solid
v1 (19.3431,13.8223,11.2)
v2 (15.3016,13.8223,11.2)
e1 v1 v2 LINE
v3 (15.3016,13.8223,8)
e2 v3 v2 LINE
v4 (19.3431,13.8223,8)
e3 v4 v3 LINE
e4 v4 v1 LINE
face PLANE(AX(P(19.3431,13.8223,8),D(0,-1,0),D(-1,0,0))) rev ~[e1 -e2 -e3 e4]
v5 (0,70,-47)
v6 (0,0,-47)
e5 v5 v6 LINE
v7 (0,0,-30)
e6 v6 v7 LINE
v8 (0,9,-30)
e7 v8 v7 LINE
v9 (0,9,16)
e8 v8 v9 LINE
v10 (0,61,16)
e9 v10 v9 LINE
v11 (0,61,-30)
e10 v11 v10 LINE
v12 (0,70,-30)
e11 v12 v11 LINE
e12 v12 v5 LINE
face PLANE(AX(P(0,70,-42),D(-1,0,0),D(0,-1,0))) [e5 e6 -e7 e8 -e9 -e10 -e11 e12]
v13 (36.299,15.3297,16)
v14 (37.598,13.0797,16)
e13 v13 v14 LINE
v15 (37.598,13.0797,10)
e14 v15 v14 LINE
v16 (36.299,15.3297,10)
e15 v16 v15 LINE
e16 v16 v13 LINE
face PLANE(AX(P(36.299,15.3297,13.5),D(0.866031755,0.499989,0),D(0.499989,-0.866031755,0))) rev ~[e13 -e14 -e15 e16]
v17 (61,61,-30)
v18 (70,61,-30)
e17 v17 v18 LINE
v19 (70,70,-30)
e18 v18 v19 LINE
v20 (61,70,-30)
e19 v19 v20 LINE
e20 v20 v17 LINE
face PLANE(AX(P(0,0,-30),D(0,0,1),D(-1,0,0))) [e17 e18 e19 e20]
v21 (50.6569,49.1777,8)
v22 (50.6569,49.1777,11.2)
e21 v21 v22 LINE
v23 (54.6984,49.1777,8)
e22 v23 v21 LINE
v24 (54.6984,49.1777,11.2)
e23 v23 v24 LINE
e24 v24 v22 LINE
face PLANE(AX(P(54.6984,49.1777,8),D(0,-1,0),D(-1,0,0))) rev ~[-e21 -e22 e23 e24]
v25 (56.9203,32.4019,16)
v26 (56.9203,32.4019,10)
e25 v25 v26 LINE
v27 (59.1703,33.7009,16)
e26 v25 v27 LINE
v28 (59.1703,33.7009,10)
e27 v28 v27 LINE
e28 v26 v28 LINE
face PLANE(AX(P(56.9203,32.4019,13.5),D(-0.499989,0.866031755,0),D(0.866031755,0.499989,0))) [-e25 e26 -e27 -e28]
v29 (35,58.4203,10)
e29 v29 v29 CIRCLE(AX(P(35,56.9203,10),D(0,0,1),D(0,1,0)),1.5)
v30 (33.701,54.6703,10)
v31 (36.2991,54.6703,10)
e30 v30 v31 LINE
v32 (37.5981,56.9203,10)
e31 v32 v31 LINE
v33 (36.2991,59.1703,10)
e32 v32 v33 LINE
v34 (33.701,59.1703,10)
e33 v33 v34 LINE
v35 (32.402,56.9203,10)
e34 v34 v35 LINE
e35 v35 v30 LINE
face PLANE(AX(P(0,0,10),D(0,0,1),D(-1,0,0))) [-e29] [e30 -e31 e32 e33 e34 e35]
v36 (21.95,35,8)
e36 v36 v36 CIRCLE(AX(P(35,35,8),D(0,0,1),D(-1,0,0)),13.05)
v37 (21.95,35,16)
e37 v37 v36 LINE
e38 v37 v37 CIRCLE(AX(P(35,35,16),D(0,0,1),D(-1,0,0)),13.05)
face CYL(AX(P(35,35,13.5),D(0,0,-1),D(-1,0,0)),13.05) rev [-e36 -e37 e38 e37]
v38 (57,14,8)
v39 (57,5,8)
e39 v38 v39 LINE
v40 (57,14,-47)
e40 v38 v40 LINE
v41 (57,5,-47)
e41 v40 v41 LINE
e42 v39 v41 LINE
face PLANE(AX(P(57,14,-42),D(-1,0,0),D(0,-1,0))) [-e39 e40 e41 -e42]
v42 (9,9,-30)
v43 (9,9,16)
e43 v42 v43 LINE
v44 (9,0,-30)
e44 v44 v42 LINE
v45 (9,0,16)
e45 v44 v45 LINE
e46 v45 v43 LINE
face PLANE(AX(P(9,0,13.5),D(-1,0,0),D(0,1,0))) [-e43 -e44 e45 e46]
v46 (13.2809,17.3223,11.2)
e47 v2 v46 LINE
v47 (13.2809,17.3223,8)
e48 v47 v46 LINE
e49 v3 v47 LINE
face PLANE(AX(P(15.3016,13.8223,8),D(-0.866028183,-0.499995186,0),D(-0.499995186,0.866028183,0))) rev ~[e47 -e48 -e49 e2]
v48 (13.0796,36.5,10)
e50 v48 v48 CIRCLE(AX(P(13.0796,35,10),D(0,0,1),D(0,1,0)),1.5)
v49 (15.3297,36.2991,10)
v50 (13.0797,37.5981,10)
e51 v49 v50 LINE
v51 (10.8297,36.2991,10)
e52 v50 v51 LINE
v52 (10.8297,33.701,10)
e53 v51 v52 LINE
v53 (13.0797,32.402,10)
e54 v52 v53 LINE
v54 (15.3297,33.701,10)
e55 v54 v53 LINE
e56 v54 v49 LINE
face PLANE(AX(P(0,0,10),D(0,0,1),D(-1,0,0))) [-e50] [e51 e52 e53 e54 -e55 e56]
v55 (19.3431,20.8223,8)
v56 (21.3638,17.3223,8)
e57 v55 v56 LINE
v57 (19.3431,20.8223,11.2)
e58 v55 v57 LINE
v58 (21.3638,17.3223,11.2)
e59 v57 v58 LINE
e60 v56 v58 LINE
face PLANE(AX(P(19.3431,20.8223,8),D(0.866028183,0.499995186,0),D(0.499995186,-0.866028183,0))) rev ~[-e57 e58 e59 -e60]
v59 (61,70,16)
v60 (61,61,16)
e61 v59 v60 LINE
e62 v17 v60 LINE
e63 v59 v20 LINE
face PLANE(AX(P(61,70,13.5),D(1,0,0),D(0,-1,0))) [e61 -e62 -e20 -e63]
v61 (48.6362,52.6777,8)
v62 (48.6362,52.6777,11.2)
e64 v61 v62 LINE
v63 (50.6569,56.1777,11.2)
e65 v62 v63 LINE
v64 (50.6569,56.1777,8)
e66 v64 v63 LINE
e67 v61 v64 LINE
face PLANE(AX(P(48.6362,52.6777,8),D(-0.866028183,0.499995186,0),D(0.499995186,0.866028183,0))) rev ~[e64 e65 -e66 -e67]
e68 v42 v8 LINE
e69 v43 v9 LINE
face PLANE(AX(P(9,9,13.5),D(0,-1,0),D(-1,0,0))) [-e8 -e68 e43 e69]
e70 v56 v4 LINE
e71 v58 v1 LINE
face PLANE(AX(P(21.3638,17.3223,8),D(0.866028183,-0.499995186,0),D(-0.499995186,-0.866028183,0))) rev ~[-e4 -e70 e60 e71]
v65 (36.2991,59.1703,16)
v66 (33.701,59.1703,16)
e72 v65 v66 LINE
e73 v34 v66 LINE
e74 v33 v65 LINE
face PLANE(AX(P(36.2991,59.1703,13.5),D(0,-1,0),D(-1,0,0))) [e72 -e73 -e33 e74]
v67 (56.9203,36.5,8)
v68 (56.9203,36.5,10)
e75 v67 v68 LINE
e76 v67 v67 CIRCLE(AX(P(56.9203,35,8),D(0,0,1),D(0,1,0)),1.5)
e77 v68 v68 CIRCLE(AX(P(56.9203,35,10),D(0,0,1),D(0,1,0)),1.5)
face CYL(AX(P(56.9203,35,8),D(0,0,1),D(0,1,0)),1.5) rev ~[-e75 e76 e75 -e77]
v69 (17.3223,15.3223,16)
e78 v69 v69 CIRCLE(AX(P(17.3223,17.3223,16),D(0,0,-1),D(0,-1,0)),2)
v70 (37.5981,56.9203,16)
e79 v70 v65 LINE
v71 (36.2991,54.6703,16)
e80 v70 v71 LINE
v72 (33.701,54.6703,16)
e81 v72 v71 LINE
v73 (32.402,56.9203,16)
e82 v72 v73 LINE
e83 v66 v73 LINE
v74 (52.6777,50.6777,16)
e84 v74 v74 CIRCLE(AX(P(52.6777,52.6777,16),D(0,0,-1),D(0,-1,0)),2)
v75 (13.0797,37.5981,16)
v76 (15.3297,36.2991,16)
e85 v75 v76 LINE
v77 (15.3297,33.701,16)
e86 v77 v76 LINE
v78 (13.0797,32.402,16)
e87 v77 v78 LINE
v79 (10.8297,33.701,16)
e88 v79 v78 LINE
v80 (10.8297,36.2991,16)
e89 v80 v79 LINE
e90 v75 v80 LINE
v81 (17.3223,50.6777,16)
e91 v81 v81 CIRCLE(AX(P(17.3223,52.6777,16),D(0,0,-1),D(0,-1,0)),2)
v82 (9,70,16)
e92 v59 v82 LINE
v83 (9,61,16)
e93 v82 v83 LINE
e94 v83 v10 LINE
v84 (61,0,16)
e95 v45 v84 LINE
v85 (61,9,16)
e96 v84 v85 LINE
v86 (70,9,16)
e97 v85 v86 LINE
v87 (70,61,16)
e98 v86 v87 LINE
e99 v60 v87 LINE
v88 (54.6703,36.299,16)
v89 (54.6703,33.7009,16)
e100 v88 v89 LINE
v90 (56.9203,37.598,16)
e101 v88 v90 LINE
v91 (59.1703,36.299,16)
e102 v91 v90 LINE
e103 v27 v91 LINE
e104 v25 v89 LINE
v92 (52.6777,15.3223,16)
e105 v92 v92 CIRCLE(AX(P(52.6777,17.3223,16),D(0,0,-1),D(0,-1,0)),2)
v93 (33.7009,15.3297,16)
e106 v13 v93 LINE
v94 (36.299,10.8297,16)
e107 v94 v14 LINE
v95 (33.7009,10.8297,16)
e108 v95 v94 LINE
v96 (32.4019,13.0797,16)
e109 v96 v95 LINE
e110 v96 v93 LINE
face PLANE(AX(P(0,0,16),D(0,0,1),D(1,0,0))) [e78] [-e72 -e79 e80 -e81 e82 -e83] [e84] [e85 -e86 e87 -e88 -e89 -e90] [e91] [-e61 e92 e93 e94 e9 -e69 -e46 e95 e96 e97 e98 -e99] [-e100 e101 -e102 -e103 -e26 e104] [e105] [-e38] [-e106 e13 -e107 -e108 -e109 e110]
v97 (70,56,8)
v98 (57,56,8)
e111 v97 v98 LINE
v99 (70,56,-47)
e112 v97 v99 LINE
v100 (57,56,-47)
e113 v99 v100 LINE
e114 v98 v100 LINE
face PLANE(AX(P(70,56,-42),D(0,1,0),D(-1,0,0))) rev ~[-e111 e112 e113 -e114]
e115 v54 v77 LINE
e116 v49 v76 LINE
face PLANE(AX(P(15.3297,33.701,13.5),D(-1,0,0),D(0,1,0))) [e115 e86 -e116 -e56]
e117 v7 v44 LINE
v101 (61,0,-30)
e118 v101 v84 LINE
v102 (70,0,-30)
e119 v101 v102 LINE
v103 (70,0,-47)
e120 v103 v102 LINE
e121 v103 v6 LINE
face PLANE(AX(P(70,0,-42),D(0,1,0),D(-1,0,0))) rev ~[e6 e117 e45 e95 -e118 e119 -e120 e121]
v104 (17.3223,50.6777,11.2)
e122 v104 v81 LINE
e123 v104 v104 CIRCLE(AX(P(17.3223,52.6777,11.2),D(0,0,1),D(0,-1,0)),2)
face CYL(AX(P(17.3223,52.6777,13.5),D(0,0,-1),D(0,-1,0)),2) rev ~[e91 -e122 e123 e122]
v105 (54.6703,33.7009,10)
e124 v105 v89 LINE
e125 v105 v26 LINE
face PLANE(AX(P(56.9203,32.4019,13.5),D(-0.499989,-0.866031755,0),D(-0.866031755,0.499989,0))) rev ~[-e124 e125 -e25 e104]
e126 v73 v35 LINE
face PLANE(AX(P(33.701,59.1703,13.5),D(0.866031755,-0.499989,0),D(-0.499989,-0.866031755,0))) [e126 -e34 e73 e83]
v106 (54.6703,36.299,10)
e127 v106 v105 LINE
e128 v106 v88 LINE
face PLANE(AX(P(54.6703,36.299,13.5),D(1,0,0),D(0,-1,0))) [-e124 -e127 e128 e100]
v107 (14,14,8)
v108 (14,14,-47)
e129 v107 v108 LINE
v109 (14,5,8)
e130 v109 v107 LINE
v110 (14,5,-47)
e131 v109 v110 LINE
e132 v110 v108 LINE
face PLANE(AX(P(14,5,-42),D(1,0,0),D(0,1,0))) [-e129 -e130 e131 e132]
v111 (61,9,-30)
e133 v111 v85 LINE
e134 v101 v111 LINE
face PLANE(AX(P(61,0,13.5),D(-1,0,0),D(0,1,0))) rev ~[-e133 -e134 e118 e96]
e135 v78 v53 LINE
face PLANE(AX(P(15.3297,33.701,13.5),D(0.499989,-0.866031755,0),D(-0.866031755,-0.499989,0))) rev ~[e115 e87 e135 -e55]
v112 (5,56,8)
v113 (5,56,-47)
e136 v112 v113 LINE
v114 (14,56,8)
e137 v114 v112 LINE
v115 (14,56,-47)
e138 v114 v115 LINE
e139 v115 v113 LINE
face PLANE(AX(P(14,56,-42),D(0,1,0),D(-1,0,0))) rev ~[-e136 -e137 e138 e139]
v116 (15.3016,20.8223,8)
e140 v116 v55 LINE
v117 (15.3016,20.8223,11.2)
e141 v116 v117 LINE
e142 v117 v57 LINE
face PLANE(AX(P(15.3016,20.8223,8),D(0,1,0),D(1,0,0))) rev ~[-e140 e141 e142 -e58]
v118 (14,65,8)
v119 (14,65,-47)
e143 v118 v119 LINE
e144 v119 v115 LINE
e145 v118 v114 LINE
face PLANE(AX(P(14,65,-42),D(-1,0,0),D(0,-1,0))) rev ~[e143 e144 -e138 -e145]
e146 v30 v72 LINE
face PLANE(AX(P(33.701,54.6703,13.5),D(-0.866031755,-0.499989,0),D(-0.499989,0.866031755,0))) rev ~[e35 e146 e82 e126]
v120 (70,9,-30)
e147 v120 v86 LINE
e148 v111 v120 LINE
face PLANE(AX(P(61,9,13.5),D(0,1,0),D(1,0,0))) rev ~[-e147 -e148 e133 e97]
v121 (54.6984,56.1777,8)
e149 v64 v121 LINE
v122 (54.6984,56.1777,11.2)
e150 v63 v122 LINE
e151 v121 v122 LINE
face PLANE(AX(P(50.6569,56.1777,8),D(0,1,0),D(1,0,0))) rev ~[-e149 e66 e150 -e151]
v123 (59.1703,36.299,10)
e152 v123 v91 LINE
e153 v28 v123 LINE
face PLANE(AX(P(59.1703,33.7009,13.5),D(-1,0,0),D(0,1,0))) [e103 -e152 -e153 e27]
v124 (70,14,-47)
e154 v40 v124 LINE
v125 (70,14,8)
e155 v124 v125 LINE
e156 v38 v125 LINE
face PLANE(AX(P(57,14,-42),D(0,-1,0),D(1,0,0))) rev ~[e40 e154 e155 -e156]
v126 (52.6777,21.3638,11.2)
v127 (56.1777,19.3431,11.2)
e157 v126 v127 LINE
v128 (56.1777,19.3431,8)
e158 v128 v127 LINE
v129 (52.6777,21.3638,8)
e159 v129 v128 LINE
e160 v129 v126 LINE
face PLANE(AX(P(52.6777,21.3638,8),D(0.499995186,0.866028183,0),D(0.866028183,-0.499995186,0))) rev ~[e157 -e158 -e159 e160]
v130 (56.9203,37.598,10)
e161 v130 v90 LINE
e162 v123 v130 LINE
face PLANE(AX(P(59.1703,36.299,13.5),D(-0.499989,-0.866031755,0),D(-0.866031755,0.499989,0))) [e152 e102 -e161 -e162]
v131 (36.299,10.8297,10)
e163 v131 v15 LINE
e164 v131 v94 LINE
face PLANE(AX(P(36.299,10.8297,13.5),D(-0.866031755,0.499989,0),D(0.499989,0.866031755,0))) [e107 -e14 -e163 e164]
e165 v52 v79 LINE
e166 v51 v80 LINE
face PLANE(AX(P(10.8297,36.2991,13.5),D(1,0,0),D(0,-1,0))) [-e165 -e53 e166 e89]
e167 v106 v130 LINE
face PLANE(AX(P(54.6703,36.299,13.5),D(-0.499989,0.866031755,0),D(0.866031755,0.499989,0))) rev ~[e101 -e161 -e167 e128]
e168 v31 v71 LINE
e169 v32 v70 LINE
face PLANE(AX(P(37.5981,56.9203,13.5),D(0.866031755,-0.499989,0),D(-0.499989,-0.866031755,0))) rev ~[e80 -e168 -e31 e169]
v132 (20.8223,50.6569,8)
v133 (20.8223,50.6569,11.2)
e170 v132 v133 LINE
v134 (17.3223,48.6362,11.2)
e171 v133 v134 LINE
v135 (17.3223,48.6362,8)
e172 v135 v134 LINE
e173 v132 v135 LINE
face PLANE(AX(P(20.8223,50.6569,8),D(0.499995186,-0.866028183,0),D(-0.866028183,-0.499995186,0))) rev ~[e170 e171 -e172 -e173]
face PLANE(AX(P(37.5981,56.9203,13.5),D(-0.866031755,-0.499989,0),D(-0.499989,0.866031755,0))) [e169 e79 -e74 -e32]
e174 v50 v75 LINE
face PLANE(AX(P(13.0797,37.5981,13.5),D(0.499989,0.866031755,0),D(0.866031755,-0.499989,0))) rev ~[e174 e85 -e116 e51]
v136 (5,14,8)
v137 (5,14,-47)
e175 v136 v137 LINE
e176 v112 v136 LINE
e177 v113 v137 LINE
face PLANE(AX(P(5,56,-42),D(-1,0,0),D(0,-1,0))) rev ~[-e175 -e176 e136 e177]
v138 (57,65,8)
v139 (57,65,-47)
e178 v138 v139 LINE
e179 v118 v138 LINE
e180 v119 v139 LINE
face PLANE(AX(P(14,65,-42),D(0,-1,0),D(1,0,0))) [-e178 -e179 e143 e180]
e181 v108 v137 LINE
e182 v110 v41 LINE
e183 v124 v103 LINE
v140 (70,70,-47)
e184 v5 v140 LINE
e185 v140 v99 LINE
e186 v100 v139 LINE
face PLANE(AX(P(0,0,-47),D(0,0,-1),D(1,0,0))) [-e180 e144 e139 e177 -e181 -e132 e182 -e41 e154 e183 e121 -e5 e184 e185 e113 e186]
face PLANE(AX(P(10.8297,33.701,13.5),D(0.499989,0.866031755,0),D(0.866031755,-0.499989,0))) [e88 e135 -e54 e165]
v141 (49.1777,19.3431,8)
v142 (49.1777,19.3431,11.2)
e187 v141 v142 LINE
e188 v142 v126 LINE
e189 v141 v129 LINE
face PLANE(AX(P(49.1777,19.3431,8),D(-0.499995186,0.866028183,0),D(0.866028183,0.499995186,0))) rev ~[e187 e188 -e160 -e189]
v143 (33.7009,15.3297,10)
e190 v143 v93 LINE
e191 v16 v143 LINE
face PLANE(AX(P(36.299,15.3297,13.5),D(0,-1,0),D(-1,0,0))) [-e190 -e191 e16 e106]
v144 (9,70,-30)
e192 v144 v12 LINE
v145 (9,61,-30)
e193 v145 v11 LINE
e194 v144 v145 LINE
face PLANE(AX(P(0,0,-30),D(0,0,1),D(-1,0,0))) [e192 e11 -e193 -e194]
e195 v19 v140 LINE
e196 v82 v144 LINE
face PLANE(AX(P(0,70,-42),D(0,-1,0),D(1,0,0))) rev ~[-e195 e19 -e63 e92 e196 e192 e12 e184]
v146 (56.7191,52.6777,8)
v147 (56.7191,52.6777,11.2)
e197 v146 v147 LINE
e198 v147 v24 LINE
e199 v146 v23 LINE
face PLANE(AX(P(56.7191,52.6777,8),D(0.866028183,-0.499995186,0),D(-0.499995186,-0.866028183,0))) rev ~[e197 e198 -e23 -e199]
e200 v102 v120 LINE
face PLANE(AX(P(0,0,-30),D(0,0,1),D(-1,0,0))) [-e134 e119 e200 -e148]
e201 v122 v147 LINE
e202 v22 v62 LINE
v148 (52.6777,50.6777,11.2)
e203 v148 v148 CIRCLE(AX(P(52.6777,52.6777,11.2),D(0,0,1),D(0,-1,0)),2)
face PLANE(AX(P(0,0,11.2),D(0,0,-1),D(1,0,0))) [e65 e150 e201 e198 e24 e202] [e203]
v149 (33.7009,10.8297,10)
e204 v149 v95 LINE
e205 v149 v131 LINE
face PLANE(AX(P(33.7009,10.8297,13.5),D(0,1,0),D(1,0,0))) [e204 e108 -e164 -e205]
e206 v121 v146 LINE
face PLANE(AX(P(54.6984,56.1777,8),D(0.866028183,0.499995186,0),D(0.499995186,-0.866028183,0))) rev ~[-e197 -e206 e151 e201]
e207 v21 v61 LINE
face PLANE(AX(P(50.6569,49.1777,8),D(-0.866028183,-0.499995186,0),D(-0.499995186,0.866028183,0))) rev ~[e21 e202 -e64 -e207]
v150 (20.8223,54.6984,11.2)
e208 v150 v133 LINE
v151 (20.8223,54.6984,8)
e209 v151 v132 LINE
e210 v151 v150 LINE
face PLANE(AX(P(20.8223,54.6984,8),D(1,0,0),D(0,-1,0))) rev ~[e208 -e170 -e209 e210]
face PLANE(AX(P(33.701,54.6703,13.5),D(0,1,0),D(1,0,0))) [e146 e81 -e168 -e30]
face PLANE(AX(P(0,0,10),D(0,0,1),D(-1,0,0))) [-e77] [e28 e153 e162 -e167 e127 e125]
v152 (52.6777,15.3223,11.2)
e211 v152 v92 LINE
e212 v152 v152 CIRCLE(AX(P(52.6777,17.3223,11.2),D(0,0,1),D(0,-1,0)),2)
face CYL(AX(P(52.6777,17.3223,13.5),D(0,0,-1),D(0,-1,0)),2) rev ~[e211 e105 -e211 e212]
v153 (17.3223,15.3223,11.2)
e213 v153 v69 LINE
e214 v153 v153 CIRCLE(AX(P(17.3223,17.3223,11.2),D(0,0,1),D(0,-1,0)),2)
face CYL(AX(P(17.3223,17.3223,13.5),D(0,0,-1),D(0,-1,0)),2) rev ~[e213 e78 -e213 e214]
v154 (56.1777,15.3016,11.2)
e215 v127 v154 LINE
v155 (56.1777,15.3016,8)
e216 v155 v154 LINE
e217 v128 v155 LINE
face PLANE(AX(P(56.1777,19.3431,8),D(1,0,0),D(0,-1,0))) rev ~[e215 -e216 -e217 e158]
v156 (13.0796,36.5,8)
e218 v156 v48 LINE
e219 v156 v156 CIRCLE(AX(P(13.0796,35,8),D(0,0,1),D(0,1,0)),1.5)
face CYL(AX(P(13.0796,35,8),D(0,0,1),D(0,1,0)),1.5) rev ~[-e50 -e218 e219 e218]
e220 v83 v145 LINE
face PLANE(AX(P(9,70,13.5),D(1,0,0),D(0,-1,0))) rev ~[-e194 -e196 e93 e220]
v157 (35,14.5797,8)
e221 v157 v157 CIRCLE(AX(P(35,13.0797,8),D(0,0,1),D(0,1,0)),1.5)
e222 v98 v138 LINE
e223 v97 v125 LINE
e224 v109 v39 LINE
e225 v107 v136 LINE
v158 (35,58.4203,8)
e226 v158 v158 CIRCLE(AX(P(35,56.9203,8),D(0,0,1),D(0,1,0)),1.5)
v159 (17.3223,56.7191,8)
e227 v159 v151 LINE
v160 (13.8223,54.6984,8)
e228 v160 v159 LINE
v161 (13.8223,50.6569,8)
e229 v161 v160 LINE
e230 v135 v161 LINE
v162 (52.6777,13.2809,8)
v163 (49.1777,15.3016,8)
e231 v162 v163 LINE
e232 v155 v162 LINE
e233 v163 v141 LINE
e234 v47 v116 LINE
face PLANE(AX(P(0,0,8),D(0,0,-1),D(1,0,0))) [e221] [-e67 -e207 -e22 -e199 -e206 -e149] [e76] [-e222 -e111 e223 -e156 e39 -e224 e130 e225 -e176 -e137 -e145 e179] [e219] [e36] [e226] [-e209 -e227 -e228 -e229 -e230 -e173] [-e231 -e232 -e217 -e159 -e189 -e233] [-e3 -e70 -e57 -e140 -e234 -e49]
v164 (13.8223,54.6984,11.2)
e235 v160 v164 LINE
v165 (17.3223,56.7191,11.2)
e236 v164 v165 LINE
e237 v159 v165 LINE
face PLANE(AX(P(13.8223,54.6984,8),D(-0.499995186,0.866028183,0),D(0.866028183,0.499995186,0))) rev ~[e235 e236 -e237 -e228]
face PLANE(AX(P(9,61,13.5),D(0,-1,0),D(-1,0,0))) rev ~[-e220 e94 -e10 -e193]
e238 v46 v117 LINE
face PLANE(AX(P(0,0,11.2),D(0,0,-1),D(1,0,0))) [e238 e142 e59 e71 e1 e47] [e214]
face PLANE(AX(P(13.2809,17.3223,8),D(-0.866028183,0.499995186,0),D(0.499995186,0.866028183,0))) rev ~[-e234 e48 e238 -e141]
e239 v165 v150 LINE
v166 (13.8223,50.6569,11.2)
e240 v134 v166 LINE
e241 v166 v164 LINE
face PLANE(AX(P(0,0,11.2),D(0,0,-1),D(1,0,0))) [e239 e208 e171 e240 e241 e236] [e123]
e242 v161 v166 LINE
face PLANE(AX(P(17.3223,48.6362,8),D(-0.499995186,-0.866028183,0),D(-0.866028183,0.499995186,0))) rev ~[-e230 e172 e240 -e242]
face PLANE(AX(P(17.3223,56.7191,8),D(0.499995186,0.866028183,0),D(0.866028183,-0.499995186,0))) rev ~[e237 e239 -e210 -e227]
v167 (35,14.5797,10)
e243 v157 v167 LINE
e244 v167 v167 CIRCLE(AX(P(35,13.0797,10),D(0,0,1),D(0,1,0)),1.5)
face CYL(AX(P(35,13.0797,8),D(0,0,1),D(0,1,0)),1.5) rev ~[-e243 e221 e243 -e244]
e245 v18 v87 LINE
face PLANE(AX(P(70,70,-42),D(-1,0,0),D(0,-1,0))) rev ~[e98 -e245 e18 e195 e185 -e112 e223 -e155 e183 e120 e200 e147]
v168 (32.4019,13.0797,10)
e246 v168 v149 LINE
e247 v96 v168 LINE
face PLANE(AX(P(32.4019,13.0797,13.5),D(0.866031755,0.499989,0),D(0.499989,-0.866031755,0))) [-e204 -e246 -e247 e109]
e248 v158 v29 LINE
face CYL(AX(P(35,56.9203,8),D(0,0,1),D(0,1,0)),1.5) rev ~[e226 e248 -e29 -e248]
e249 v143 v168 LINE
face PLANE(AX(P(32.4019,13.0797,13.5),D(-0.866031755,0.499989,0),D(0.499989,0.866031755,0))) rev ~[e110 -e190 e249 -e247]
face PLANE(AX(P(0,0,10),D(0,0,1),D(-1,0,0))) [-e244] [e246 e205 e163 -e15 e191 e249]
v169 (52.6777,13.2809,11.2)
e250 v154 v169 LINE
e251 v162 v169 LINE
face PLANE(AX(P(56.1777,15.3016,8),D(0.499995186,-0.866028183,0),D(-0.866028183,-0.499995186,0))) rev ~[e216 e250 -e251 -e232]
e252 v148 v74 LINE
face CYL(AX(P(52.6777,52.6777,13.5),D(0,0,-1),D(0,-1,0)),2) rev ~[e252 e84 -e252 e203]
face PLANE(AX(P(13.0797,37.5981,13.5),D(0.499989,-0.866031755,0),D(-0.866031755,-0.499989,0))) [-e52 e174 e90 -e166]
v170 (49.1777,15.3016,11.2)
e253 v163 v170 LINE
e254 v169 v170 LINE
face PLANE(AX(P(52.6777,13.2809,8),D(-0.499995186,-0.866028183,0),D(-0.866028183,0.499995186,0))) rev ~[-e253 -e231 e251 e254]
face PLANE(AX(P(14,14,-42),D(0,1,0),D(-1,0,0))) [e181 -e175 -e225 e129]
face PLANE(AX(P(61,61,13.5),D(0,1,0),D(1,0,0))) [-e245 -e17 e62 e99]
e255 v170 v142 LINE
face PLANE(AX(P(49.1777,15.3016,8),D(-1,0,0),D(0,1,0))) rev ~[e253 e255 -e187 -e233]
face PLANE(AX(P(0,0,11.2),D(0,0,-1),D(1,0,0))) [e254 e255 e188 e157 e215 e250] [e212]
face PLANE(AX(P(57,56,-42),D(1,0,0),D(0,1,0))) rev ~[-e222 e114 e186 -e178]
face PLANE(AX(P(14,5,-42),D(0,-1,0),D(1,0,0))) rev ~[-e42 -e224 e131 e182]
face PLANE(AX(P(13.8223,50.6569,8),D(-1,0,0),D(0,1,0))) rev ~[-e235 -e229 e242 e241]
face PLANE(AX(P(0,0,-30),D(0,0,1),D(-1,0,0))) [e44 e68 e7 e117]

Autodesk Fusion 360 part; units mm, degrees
sketch "草图1" plane through (0, 0, 0) normal (0, 0, 1) x (1, 0, 0)
  line L0 (0, 0) -> (70, 0)
  line L1 (70, 0) -> (70, 70)
  line L2 (70, 70) -> (0, 70)
  line L3 (0, 70) -> (0, 0)
  dimension "d1" = 70
  dimension "d2" = 70
extrude "拉伸1" add sketch "草图1" along normal blind 20
sketch "草图2" plane through (0, 0, 20) normal (0, 0, 1) x (-1, 0, 0)
  line L0 (0, -70) -> (0, 0)
  line L1 (0, 0) -> (-70, 0)
  line L2 (-70, 0) -> (-70, -70)
  line L3 (-70, -70) -> (0, -70)
  line L4 (-13.4, -56.6) -> (-56.6, -56.6)
  line L5 (-56.6, -56.6) -> (-56.6, -13.4)
  line L6 (-56.6, -13.4) -> (-13.4, -13.4)
  line L7 (-13.4, -13.4) -> (-13.4, -56.6)
  dimension "d5" = 43.2
  dimension "d6" = 43.2
  dimension "d7" = 13.4
  dimension "d8" = 13.4
extrude "拉伸2" cut sketch "草图2" against normal blind 6.5 contours L4 L5 L6 L7
sketch "草图3" plane through (0, 0, 13.5) normal (0, 0, 1) x (-1, 0, 0)
  line L0 (-13.4, -13.4) -> (-56.6, -13.4)
  line L1 (-56.6, -13.4) -> (-56.6, -56.6)
  line L2 (-56.6, -56.6) -> (-13.4, -56.6)
  line L3 (-13.4, -56.6) -> (-13.4, -13.4)
  circle A0 centre (-35, -35) radius 25
  line L4 (-56.6, -13.4) -> (-35, -35)
  circle A1 centre (-52.6777, -17.3223) radius 0.4987
  point P0 (-52.6777, -52.6777)
  point P1 (-17.3223, -52.6777)
  point P2 (-17.3223, -17.3223)
  dimension "d11" = 50
  dimension "d12" = 21.6
  dimension "d13" = 21.6
  dimension "d15" = 360
hole "孔1" at (17.3223, 17.3223, 13.5) at (52.6777, 17.3223, 13.5) at (52.6777, 52.6777, 13.5) at (17.3223, 52.6777, 13.5) direction (0, 0, -1) diameter 4 end through all
sketch "草图4" plane through (0, 0, 13.5) normal (0, 0, 1) x (-1, 0, 0)
  circle A0 centre (-52.6777, -52.6777) radius 2
  circle A1 centre (-17.3223, -17.3223) radius 2
  circle A2 centre (-52.6777, -17.3223) radius 2
  circle A3 centre (-17.3223, -52.6777) radius 2
  line L0 (-13.4, -13.4) -> (-56.6, -13.4)
  line L1 (-56.6, -13.4) -> (-56.6, -56.6)
  line L2 (-56.6, -56.6) -> (-13.4, -56.6)
  line L3 (-13.4, -56.6) -> (-13.4, -13.4)
  circle A4 centre (-35, -35) radius 13.05
  dimension "d19" = 26.1
  dimension "d20" = 21.6
  dimension "d21" = 21.6
extrude "拉伸3" cut sketch "草图4" against normal blind 3.8 contours A4
sketch "草图5" plane through (0, 0, 9.7) normal (0, 0, 1) x (-1, 0, 0)
  circle A0 centre (-35, -35) radius 13.05
  circle A1 centre (-35, -35) radius 2.55
  dimension "d24" = 5.1
extrude "拉伸4" cut sketch "草图5" against normal blind 100 contours A1
sketch "草图6" plane through (0, 0, 0) normal (0, 0, -1) x (1, 0, 0)
  circle A0 centre (35, -35) radius 2.55
  circle A1 centre (52.6777, -52.6777) radius 2
  circle A2 centre (17.3223, -17.3223) radius 2
  circle A3 centre (52.6777, -17.3223) radius 2
  circle A4 centre (17.3223, -52.6777) radius 2
  line L0 (0, 0) -> (0, -70)
  line L1 (0, -70) -> (70, -70)
  line L2 (70, -70) -> (70, 0)
  line L3 (70, 0) -> (0, 0)
  line L4 (35, -64.9106) -> (64.9106, -35)
  line L5 (64.9106, -35) -> (35, -5.0894)
  line L6 (35, -64.9106) -> (5.0893, -35)
  line L7 (5.0893, -35) -> (35, -5.0894)
  line L8 (64.9106, -35) -> (5.0893, -35)
  line L9 (35, -64.9106) -> (35, -5.0894)
  point P0 (35, -35)
  dimension "d27" = 42.3
  dimension "d28" = 42.3
  dimension "d29" = 42.3
  dimension "d30" = 42.3
extrude "拉伸5" cut sketch "草图6" against normal blind 8 contours A0 L4 L8 L9 | A0 L5 L8 L9 | A0 L7 L8 L9 | A0 L6 L8 L9
extrude "拉伸6" cut 1 faces at (25.5081, 35.775, 9.7) along direction (0, 0, -1) blind 10
sketch "草图7" plane through (0, 0, 8) normal (0, 0, -1) x (1, 0, 0)
  circle A0 centre (35, -35) radius 13.05
  line L0 (35, -64.9106) -> (64.9106, -35)
  line L1 (64.9106, -35) -> (35, -5.0894)
  line L2 (35, -5.0894) -> (5.0893, -35)
  line L3 (5.0893, -35) -> (35, -64.9106)
  circle A1 centre (35, -13.0797) radius 1.5
  circle A2 centre (56.9203, -35) radius 1.5
  circle A3 centre (35, -56.9203) radius 1.5
  circle A4 centre (13.0796, -35) radius 1.5
  dimension "d35" = 3
  dimension "d36" = 5.65
  dimension "d37" = 5.65
  dimension "d38" = 5.65
  dimension "d39" = 5.65
  dimension "d40" = 5.65
  dimension "d41" = 5.65
  dimension "d42" = 5.65
  dimension "d43" = 5.65
hole "孔2" at (35, 13.0797, 8) at (56.9203, 35, 8) at (13.0796, 35, 8) at (35, 56.9203, 8) direction (0, 0, 1) diameter 3 end through all
sketch "草图8" plane through (0, 0, 20) normal (0, 0, 1) x (-1, 0, 0)
  line L0 (0, -70) -> (0, 0)
  line L1 (0, 0) -> (-70, 0)
  line L2 (-70, 0) -> (-70, -70)
  line L3 (-70, -70) -> (0, -70)
  arc A0 (-13.4, -36.4654) -> (-13.4, -33.5346) centre (-13.0796, -35) ccw
  line L4 (-13.4, -36.4654) -> (-13.4, -56.6)
  line L5 (-13.4, -56.6) -> (-33.5346, -56.6)
  arc A1 (-36.4654, -56.6) -> (-33.5346, -56.6) centre (-35, -56.9203) ccw
  line L6 (-36.4654, -56.6) -> (-56.6, -56.6)
  line L7 (-56.6, -56.6) -> (-56.6, -36.4654)
  arc A2 (-56.6, -33.5346) -> (-56.6, -36.4654) centre (-56.9203, -35) ccw
  line L8 (-56.6, -33.5346) -> (-56.6, -13.4)
  line L9 (-56.6, -13.4) -> (-36.4654, -13.4)
  arc A3 (-33.5346, -13.4) -> (-36.4654, -13.4) centre (-35, -13.0797) ccw
  line L10 (-33.5346, -13.4) -> (-13.4, -13.4)
  line L11 (-13.4, -13.4) -> (-13.4, -33.5346)
  line L12 (-33.7009, -15.3297) -> (-32.4019, -13.0797)
  line L13 (-32.4019, -13.0797) -> (-33.7009, -10.8297)
  line L14 (-33.7009, -10.8297) -> (-36.299, -10.8297)
  line L15 (-36.299, -10.8297) -> (-37.598, -13.0797)
  line L16 (-37.598, -13.0797) -> (-36.299, -15.3297)
  line L17 (-36.299, -15.3297) -> (-33.7009, -15.3297)
  line L18 (-56.6, -13.4) -> (-13.4, -56.6)
  line L19 (-56.6, -56.6) -> (-13.4, -13.4)
  line L20 (-59.1703, -33.7009) -> (-59.1703, -36.299)
  line L21 (-56.9203, -32.4019) -> (-59.1703, -33.7009)
  line L22 (-54.6703, -33.7009) -> (-56.9203, -32.4019)
  line L23 (-54.6703, -36.299) -> (-54.6703, -33.7009)
  line L24 (-56.9203, -37.598) -> (-54.6703, -36.299)
  line L25 (-59.1703, -36.299) -> (-56.9203, -37.598)
  line L26 (-36.2991, -59.1703) -> (-33.701, -59.1703)
  line L27 (-37.5981, -56.9203) -> (-36.2991, -59.1703)
  line L28 (-36.2991, -54.6703) -> (-37.5981, -56.9203)
  line L29 (-33.701, -54.6703) -> (-36.2991, -54.6703)
  line L30 (-32.402, -56.9203) -> (-33.701, -54.6703)
  line L31 (-33.701, -59.1703) -> (-32.402, -56.9203)
  line L32 (-10.8297, -36.2991) -> (-10.8297, -33.701)
  line L33 (-13.0797, -37.5981) -> (-10.8297, -36.2991)
  line L34 (-15.3297, -36.2991) -> (-13.0797, -37.5981)
  line L35 (-15.3297, -33.701) -> (-15.3297, -36.2991)
  line L36 (-13.0797, -32.402) -> (-15.3297, -33.701)
  line L37 (-10.8297, -33.701) -> (-13.0797, -32.402)
  point P0 (-35, -13.0797)
  point P1 (-35, -35)
  dimension "d47" = 2.25
  dimension "d49" = 360
extrude "拉伸7" cut sketch "草图8" against normal blind 10 contours A0 L4 L11 L34 L35 L36 | A0 L4 L11 L32 L33 L34 L36 L37 | L5 A1 L6 L26 L27 L28 L30 L31 | L5 A1 L6 L28 L29 L30 | L9 A3 L10 L12 L16 L17 | L9 A3 L10 L12 L13 L14 L15 L16 | L7 A2 L8 L22 L23 L24 | L7 A2 L8 L20 L21 L22 L24 L25
sketch "草图9" plane through (0, 0, 0) normal (0, 0, -1) x (1, 0, 0)
  line L0 (35, -5.0894) -> (64.9106, -35)
  line L1 (64.9106, -35) -> (35, -64.9106)
  line L2 (35, -64.9106) -> (5.0893, -35)
  line L3 (5.0893, -35) -> (35, -5.0894)
  circle A0 centre (52.6777, -52.6777) radius 2
  circle A1 centre (17.3223, -17.3223) radius 2
  circle A2 centre (52.6777, -17.3223) radius 2
  circle A3 centre (17.3223, -52.6777) radius 2
  line L4 (0, 0) -> (0, -70)
  line L5 (0, -70) -> (70, -70)
  line L6 (70, -70) -> (70, 0)
  line L7 (70, 0) -> (0, 0)
extrude "拉伸8" cut sketch "草图9" against normal blind 3.5
extrude "拉伸9" cut 1 faces at (52.5592, 6.8039, 3.5) along direction (0, 0, 1) blind 4.5
sketch "草图10" plane through (0, 0, 8) normal (0, 0, -1) x (1, 0, 0)
  line L0 (70, 0) -> (0, 0)
  line L1 (0, 0) -> (0, -70)
  line L2 (0, -70) -> (70, -70)
  line L3 (70, -70) -> (70, 0)
  circle A0 centre (52.6777, -17.3223) radius 2
  circle A1 centre (52.6777, -52.6777) radius 2
  circle A2 centre (17.3223, -17.3223) radius 2
  circle A3 centre (17.3223, -52.6777) radius 2
  circle A4 centre (13.0796, -35) radius 1.5
  circle A5 centre (35, -13.0797) radius 1.5
  circle A6 centre (56.9203, -35) radius 1.5
  circle A7 centre (35, -56.9203) radius 1.5
  circle A8 centre (35, -35) radius 13.05
  line L4 (50.6569, -49.1777) -> (48.6362, -52.6777)
  line L5 (48.6362, -52.6777) -> (50.6569, -56.1777)
  line L6 (50.6569, -56.1777) -> (54.6984, -56.1777)
  line L7 (54.6984, -56.1777) -> (56.7191, -52.6777)
  line L8 (56.7191, -52.6777) -> (54.6984, -49.1777)
  line L9 (54.6984, -49.1777) -> (50.6569, -49.1777)
  line L10 (56.1777, -19.3431) -> (56.1777, -15.3016)
  line L11 (49.1777, -19.3431) -> (52.6777, -21.3638)
  line L12 (52.6777, -21.3638) -> (56.1777, -19.3431)
  line L13 (56.1777, -15.3016) -> (52.6777, -13.2809)
  line L14 (52.6777, -13.2809) -> (49.1777, -15.3016)
  line L15 (49.1777, -15.3016) -> (49.1777, -19.3431)
  line L16 (19.3431, -13.8223) -> (15.3016, -13.8223)
  line L17 (19.3431, -20.8223) -> (21.3638, -17.3223)
  line L18 (21.3638, -17.3223) -> (19.3431, -13.8223)
  line L19 (15.3016, -13.8223) -> (13.2809, -17.3223)
  line L20 (13.2809, -17.3223) -> (15.3016, -20.8223)
  line L21 (15.3016, -20.8223) -> (19.3431, -20.8223)
  line L22 (13.8223, -50.6569) -> (13.8223, -54.6984)
  line L23 (20.8223, -50.6569) -> (17.3223, -48.6362)
  line L24 (17.3223, -48.6362) -> (13.8223, -50.6569)
  line L25 (13.8223, -54.6984) -> (17.3223, -56.7191)
  line L26 (17.3223, -56.7191) -> (20.8223, -54.6984)
  line L27 (20.8223, -54.6984) -> (20.8223, -50.6569)
  point P0 (52.6777, -52.6777)
  dimension "d56" = 3.5
  dimension "d58" = 360
extrude "拉伸10" cut sketch "草图10" against normal blind 3.2 contours L4 L5 L6 L7 L8 L9 | L10 L11 L12 L13 L14 L15 | L16 L17 L18 L19 L20 L21 | L22 L23 L24 L25 L26 L27
sketch "草图12" plane through (0, 0, 8) normal (0, 0, -1) x (1, 0, 0)
  line L0 (17.3223, -48.6362) -> (20.8223, -50.6569)
  line L1 (20.8223, -50.6569) -> (20.8223, -54.6984)
  line L2 (20.8223, -54.6984) -> (17.3223, -56.7191)
  line L3 (17.3223, -56.7191) -> (13.8223, -54.6984)
  line L4 (13.8223, -54.6984) -> (13.8223, -50.6569)
  line L5 (13.8223, -50.6569) -> (17.3223, -48.6362)
  line L6 (21.3638, -17.3223) -> (19.3431, -20.8223)
  line L7 (19.3431, -20.8223) -> (15.3016, -20.8223)
  line L8 (15.3016, -20.8223) -> (13.2809, -17.3223)
  line L9 (13.2809, -17.3223) -> (15.3016, -13.8223)
  line L10 (15.3016, -13.8223) -> (19.3431, -13.8223)
  line L11 (19.3431, -13.8223) -> (21.3638, -17.3223)
  line L12 (48.6362, -52.6777) -> (50.6569, -49.1777)
  line L13 (50.6569, -49.1777) -> (54.6984, -49.1777)
  line L14 (54.6984, -49.1777) -> (56.7191, -52.6777)
  line L15 (56.7191, -52.6777) -> (54.6984, -56.1777)
  line L16 (54.6984, -56.1777) -> (50.6569, -56.1777)
  line L17 (50.6569, -56.1777) -> (48.6362, -52.6777)
  line L18 (52.6777, -21.3638) -> (49.1777, -19.3431)
  line L19 (49.1777, -19.3431) -> (49.1777, -15.3016)
  line L20 (49.1777, -15.3016) -> (52.6777, -13.2809)
  line L21 (52.6777, -13.2809) -> (56.1777, -15.3016)
  line L22 (56.1777, -15.3016) -> (56.1777, -19.3431)
  line L23 (56.1777, -19.3431) -> (52.6777, -21.3638)
  line L24 (70, 0) -> (0, 0)
  line L25 (0, 0) -> (0, -70)
  line L26 (0, -70) -> (70, -70)
  line L27 (70, -70) -> (70, 0)
  circle A0 centre (13.0796, -35) radius 1.5
  circle A1 centre (35, -13.0797) radius 1.5
  circle A2 centre (56.9203, -35) radius 1.5
  circle A3 centre (35, -56.9203) radius 1.5
  circle A4 centre (35, -35) radius 13.05
  line L28 (70, -70) -> (0, -70)
  line L29 (0, -70) -> (0, -65)
  line L30 (0, -65) -> (70, -65)
  line L31 (70, -65) -> (70, -70)
  line L32 (70, 0) -> (0, 0)
  line L33 (0, 0) -> (0, -5)
  line L34 (0, -5) -> (70, -5)
  line L35 (70, -5) -> (70, 0)
  dimension "d64" = 5
extrude "拉伸11" add sketch "草图12" along normal blind 60 contours L24 L25 L27 L32 L33 L34 L35 | L25 L26 L27 L28 L29 L30 L31
sketch "草图13" plane through (0, 0, 8) normal (0, 0, -1) x (1, 0, 0)
  circle A0 centre (35, -35) radius 13.05
  circle A1 centre (35, -56.9203) radius 1.5
  circle A2 centre (56.9203, -35) radius 1.5
  circle A3 centre (35, -13.0797) radius 1.5
  circle A4 centre (13.0796, -35) radius 1.5
  line L0 (52.6777, -21.3638) -> (49.1777, -19.3431)
  line L1 (49.1777, -19.3431) -> (49.1777, -15.3016)
  line L2 (49.1777, -15.3016) -> (52.6777, -13.2809)
  line L3 (52.6777, -13.2809) -> (56.1777, -15.3016)
  line L4 (56.1777, -15.3016) -> (56.1777, -19.3431)
  line L5 (56.1777, -19.3431) -> (52.6777, -21.3638)
  line L6 (48.6362, -52.6777) -> (50.6569, -49.1777)
  line L7 (50.6569, -49.1777) -> (54.6984, -49.1777)
  line L8 (54.6984, -49.1777) -> (56.7191, -52.6777)
  line L9 (56.7191, -52.6777) -> (54.6984, -56.1777)
  line L10 (54.6984, -56.1777) -> (50.6569, -56.1777)
  line L11 (50.6569, -56.1777) -> (48.6362, -52.6777)
  line L12 (21.3638, -17.3223) -> (19.3431, -20.8223)
  line L13 (19.3431, -20.8223) -> (15.3016, -20.8223)
  line L14 (15.3016, -20.8223) -> (13.2809, -17.3223)
  line L15 (13.2809, -17.3223) -> (15.3016, -13.8223)
  line L16 (15.3016, -13.8223) -> (19.3431, -13.8223)
  line L17 (19.3431, -13.8223) -> (21.3638, -17.3223)
  line L18 (17.3223, -48.6362) -> (20.8223, -50.6569)
  line L19 (20.8223, -50.6569) -> (20.8223, -54.6984)
  line L20 (20.8223, -54.6984) -> (17.3223, -56.7191)
  line L21 (17.3223, -56.7191) -> (13.8223, -54.6984)
  line L22 (13.8223, -54.6984) -> (13.8223, -50.6569)
  line L23 (13.8223, -50.6569) -> (17.3223, -48.6362)
  line L24 (0, -65) -> (70, -65)
  line L25 (70, -65) -> (70, -5)
  line L26 (70, -5) -> (0, -5)
  line L27 (0, -5) -> (0, -65)
  line L28 (0, -65) -> (5, -65)
  line L29 (5, -65) -> (5, -5)
  line L30 (5, -5) -> (0, -5)
  line L31 (0, -5) -> (0, -65)
  dimension "d67" = 5
extrude "拉伸12" add sketch "草图13" along normal blind 60 contours L24 L26 L27 L28 L29 L30 L31
sketch "草图14" plane through (0, 0, 8) normal (0, 0, -1) x (1, 0, 0)
  line L0 (5, -5) -> (5, -65)
  line L1 (5, -65) -> (70, -65)
  line L2 (70, -65) -> (70, -5)
  line L3 (70, -5) -> (5, -5)
  line L4 (17.3223, -48.6362) -> (20.8223, -50.6569)
  line L5 (20.8223, -50.6569) -> (20.8223, -54.6984)
  line L6 (20.8223, -54.6984) -> (17.3223, -56.7191)
  line L7 (17.3223, -56.7191) -> (13.8223, -54.6984)
  line L8 (13.8223, -54.6984) -> (13.8223, -50.6569)
  line L9 (13.8223, -50.6569) -> (17.3223, -48.6362)
  line L10 (21.3638, -17.3223) -> (19.3431, -20.8223)
  line L11 (19.3431, -20.8223) -> (15.3016, -20.8223)
  line L12 (15.3016, -20.8223) -> (13.2809, -17.3223)
  line L13 (13.2809, -17.3223) -> (15.3016, -13.8223)
  line L14 (15.3016, -13.8223) -> (19.3431, -13.8223)
  line L15 (19.3431, -13.8223) -> (21.3638, -17.3223)
  line L16 (48.6362, -52.6777) -> (50.6569, -49.1777)
  line L17 (50.6569, -49.1777) -> (54.6984, -49.1777)
  line L18 (54.6984, -49.1777) -> (56.7191, -52.6777)
  line L19 (56.7191, -52.6777) -> (54.6984, -56.1777)
  line L20 (54.6984, -56.1777) -> (50.6569, -56.1777)
  line L21 (50.6569, -56.1777) -> (48.6362, -52.6777)
  line L22 (52.6777, -21.3638) -> (49.1777, -19.3431)
  line L23 (49.1777, -19.3431) -> (49.1777, -15.3016)
  line L24 (49.1777, -15.3016) -> (52.6777, -13.2809)
  line L25 (52.6777, -13.2809) -> (56.1777, -15.3016)
  line L26 (56.1777, -15.3016) -> (56.1777, -19.3431)
  line L27 (56.1777, -19.3431) -> (52.6777, -21.3638)
  circle A0 centre (13.0796, -35) radius 1.5
  circle A1 centre (35, -13.0797) radius 1.5
  circle A2 centre (56.9203, -35) radius 1.5
  circle A3 centre (35, -56.9203) radius 1.5
  circle A4 centre (35, -35) radius 13.05
  line L28 (70, -5) -> (61, -5)
  line L29 (61, -5) -> (61, -14)
  line L30 (61, -14) -> (70, -14)
  line L31 (70, -14) -> (70, -5)
  line L32 (5, -5) -> (14, -5)
  line L33 (14, -5) -> (14, -14)
  line L34 (14, -14) -> (5, -14)
  line L35 (5, -14) -> (5, -5)
  line L36 (5, -65) -> (14, -65)
  line L37 (14, -65) -> (14, -56)
  line L38 (14, -56) -> (5, -56)
  line L39 (5, -56) -> (5, -65)
  line L40 (70, -65) -> (61, -65)
  line L41 (61, -65) -> (61, -56)
  line L42 (61, -56) -> (70, -56)
  line L43 (70, -56) -> (70, -65)
  dimension "d70" = 9
  dimension "d71" = 9
  dimension "d72" = 9
  dimension "d73" = 9
  dimension "d74" = 9
  dimension "d75" = 9
  dimension "d76" = 9
  dimension "d77" = 9
extrude "拉伸13" add sketch "草图14" along normal blind 60 contours L0 L3 L32 L33 L34 L35 | L0 L1 L36 L37 L38 L39 | L2 L3 L28 L29 L30 L31 | L1 L2 L40 L41 L42 L43
sketch "草图15" plane through (0, 0, 8) normal (0, 0, -1) x (1, 0, 0)
  line L0 (17.3223, -48.6362) -> (20.8223, -50.6569)
  line L1 (20.8223, -50.6569) -> (20.8223, -54.6984)
  line L2 (20.8223, -54.6984) -> (17.3223, -56.7191)
  line L3 (17.3223, -56.7191) -> (13.8223, -54.6984)
  line L4 (13.8223, -54.6984) -> (13.8223, -50.6569)
  line L5 (13.8223, -50.6569) -> (17.3223, -48.6362)
  line L6 (21.3638, -17.3223) -> (19.3431, -20.8223)
  line L7 (19.3431, -20.8223) -> (15.3016, -20.8223)
  line L8 (15.3016, -20.8223) -> (13.2809, -17.3223)
  line L9 (13.2809, -17.3223) -> (15.3016, -13.8223)
  line L10 (15.3016, -13.8223) -> (19.3431, -13.8223)
  line L11 (19.3431, -13.8223) -> (21.3638, -17.3223)
  line L12 (48.6362, -52.6777) -> (50.6569, -49.1777)
  line L13 (50.6569, -49.1777) -> (54.6984, -49.1777)
  line L14 (54.6984, -49.1777) -> (56.7191, -52.6777)
  line L15 (56.7191, -52.6777) -> (54.6984, -56.1777)
  line L16 (54.6984, -56.1777) -> (50.6569, -56.1777)
  line L17 (50.6569, -56.1777) -> (48.6362, -52.6777)
  line L18 (52.6777, -21.3638) -> (49.1777, -19.3431)
  line L19 (49.1777, -19.3431) -> (49.1777, -15.3016)
  line L20 (49.1777, -15.3016) -> (52.6777, -13.2809)
  line L21 (52.6777, -13.2809) -> (56.1777, -15.3016)
  line L22 (56.1777, -15.3016) -> (56.1777, -19.3431)
  line L23 (56.1777, -19.3431) -> (52.6777, -21.3638)
  circle A0 centre (13.0796, -35) radius 1.5
  circle A1 centre (35, -13.0797) radius 1.5
  circle A2 centre (56.9203, -35) radius 1.5
  circle A3 centre (35, -56.9203) radius 1.5
  circle A4 centre (35, -35) radius 13.05
  line L24 (61, -65) -> (61, -56)
  line L25 (61, -56) -> (70, -56)
  line L26 (70, -56) -> (70, -14)
  line L27 (70, -14) -> (61, -14)
  line L28 (61, -14) -> (61, -5)
  line L29 (61, -5) -> (14, -5)
  line L30 (14, -5) -> (14, -14)
  line L31 (14, -14) -> (5, -14)
  line L32 (5, -14) -> (5, -56)
  line L33 (5, -56) -> (14, -56)
  line L34 (14, -56) -> (14, -65)
  line L35 (14, -65) -> (61, -65)
  line L36 (61, -14) -> (57, -14)
  line L37 (57, -14) -> (57, -5)
  line L38 (57, -5) -> (61, -5)
  line L39 (61, -5) -> (61, -14)
  line L40 (61, -56) -> (57, -56)
  line L41 (57, -56) -> (57, -65)
  line L42 (57, -65) -> (61, -65)
  line L43 (61, -65) -> (61, -56)
  dimension "d80" = 4
  dimension "d81" = 4
extrude "拉伸14" add sketch "草图15" along normal blind 60 contours L24 L35 L40 L41 L42 L43 | L28 L29 L36 L37 L38 L39
sketch "草图16" plane through (0, 0, 20) normal (0, 0, 1) x (-1, 0, 0)
  line L0 (-56.9203, -32.4019) -> (-56.6, -32.5868)
  line L1 (-56.6, -32.5868) -> (-56.6, -13.4)
  line L2 (-56.6, -13.4) -> (-37.4131, -13.4)
  line L3 (-37.4131, -13.4) -> (-37.598, -13.0797)
  line L4 (-37.598, -13.0797) -> (-36.299, -10.8297)
  line L5 (-36.299, -10.8297) -> (-33.7009, -10.8297)
  line L6 (-33.7009, -10.8297) -> (-32.4019, -13.0797)
  line L7 (-32.4019, -13.0797) -> (-32.5868, -13.4)
  line L8 (-32.5868, -13.4) -> (-13.4, -13.4)
  line L9 (-13.4, -13.4) -> (-13.4, -32.5869)
  line L10 (-13.4, -32.5869) -> (-13.0797, -32.402)
  line L11 (-13.0797, -32.402) -> (-10.8297, -33.701)
  line L12 (-10.8297, -33.701) -> (-10.8297, -36.2991)
  line L13 (-10.8297, -36.2991) -> (-13.0797, -37.5981)
  line L14 (-13.0797, -37.5981) -> (-13.4, -37.4132)
  line L15 (-13.4, -37.4132) -> (-13.4, -56.6)
  line L16 (-13.4, -56.6) -> (-32.5869, -56.6)
  line L17 (-32.5869, -56.6) -> (-32.402, -56.9203)
  line L18 (-32.402, -56.9203) -> (-33.701, -59.1703)
  line L19 (-33.701, -59.1703) -> (-36.2991, -59.1703)
  line L20 (-36.2991, -59.1703) -> (-37.5981, -56.9203)
  line L21 (-37.5981, -56.9203) -> (-37.4132, -56.6)
  line L22 (-37.4132, -56.6) -> (-56.6, -56.6)
  line L23 (-56.6, -56.6) -> (-56.6, -37.4131)
  line L24 (-56.6, -37.4131) -> (-56.9203, -37.598)
  line L25 (-56.9203, -37.598) -> (-59.1703, -36.299)
  line L26 (-59.1703, -36.299) -> (-59.1703, -33.7009)
  line L27 (-59.1703, -33.7009) -> (-56.9203, -32.4019)
  line L28 (0, -70) -> (0, 0)
  line L29 (0, 0) -> (-70, 0)
  line L30 (-70, 0) -> (-70, -70)
  line L31 (-70, -70) -> (0, -70)
  line L32 (0, -70) -> (-9, -70)
  line L33 (-9, -70) -> (-9, -61)
  line L34 (-9, -61) -> (0, -61)
  line L35 (0, -61) -> (0, -70)
  line L36 (-70, -70) -> (-61, -70)
  line L37 (-61, -70) -> (-61, -61)
  line L38 (-61, -61) -> (-70, -61)
  line L39 (-70, -61) -> (-70, -70)
  line L40 (-70, 0) -> (-61, 0)
  line L41 (-61, 0) -> (-61, -9)
  line L42 (-61, -9) -> (-70, -9)
  line L43 (-70, -9) -> (-70, 0)
  line L44 (0, 0) -> (-9, 0)
  line L45 (-9, 0) -> (-9, -9)
  line L46 (-9, -9) -> (0, -9)
  line L47 (0, -9) -> (0, 0)
  dimension "d84" = 9
  dimension "d85" = 9
  dimension "d86" = 9
  dimension "d87" = 9
  dimension "d88" = 9
  dimension "d89" = 9
  dimension "d90" = 9
  dimension "d91" = 9
extrude "拉伸15" cut sketch "草图16" against normal blind 50 contours L28 L31 L32 L33 L34 L35 | L28 L29 L44 L45 L46 L47 | L30 L31 L36 L37 L38 L39 | L29 L30 L40 L41 L42 L43
extrude "拉伸16" cut 1 faces at (65.6667, 6.3333, -52) along direction (0, 0, 1) blind 10
extrude "拉伸17" cut 1 faces at (3.6099, 34.567, 20) along direction (0, 0, -1) blind 6.5
extrude "拉伸18" add 1 faces at (3.6099, 34.567, 13.5) along direction (0, 0, 1) blind 2.5
extrude "拉伸19" add 1 faces at (65.6667, 6.3333, -42) along direction (0, 0, -1) blind 5
